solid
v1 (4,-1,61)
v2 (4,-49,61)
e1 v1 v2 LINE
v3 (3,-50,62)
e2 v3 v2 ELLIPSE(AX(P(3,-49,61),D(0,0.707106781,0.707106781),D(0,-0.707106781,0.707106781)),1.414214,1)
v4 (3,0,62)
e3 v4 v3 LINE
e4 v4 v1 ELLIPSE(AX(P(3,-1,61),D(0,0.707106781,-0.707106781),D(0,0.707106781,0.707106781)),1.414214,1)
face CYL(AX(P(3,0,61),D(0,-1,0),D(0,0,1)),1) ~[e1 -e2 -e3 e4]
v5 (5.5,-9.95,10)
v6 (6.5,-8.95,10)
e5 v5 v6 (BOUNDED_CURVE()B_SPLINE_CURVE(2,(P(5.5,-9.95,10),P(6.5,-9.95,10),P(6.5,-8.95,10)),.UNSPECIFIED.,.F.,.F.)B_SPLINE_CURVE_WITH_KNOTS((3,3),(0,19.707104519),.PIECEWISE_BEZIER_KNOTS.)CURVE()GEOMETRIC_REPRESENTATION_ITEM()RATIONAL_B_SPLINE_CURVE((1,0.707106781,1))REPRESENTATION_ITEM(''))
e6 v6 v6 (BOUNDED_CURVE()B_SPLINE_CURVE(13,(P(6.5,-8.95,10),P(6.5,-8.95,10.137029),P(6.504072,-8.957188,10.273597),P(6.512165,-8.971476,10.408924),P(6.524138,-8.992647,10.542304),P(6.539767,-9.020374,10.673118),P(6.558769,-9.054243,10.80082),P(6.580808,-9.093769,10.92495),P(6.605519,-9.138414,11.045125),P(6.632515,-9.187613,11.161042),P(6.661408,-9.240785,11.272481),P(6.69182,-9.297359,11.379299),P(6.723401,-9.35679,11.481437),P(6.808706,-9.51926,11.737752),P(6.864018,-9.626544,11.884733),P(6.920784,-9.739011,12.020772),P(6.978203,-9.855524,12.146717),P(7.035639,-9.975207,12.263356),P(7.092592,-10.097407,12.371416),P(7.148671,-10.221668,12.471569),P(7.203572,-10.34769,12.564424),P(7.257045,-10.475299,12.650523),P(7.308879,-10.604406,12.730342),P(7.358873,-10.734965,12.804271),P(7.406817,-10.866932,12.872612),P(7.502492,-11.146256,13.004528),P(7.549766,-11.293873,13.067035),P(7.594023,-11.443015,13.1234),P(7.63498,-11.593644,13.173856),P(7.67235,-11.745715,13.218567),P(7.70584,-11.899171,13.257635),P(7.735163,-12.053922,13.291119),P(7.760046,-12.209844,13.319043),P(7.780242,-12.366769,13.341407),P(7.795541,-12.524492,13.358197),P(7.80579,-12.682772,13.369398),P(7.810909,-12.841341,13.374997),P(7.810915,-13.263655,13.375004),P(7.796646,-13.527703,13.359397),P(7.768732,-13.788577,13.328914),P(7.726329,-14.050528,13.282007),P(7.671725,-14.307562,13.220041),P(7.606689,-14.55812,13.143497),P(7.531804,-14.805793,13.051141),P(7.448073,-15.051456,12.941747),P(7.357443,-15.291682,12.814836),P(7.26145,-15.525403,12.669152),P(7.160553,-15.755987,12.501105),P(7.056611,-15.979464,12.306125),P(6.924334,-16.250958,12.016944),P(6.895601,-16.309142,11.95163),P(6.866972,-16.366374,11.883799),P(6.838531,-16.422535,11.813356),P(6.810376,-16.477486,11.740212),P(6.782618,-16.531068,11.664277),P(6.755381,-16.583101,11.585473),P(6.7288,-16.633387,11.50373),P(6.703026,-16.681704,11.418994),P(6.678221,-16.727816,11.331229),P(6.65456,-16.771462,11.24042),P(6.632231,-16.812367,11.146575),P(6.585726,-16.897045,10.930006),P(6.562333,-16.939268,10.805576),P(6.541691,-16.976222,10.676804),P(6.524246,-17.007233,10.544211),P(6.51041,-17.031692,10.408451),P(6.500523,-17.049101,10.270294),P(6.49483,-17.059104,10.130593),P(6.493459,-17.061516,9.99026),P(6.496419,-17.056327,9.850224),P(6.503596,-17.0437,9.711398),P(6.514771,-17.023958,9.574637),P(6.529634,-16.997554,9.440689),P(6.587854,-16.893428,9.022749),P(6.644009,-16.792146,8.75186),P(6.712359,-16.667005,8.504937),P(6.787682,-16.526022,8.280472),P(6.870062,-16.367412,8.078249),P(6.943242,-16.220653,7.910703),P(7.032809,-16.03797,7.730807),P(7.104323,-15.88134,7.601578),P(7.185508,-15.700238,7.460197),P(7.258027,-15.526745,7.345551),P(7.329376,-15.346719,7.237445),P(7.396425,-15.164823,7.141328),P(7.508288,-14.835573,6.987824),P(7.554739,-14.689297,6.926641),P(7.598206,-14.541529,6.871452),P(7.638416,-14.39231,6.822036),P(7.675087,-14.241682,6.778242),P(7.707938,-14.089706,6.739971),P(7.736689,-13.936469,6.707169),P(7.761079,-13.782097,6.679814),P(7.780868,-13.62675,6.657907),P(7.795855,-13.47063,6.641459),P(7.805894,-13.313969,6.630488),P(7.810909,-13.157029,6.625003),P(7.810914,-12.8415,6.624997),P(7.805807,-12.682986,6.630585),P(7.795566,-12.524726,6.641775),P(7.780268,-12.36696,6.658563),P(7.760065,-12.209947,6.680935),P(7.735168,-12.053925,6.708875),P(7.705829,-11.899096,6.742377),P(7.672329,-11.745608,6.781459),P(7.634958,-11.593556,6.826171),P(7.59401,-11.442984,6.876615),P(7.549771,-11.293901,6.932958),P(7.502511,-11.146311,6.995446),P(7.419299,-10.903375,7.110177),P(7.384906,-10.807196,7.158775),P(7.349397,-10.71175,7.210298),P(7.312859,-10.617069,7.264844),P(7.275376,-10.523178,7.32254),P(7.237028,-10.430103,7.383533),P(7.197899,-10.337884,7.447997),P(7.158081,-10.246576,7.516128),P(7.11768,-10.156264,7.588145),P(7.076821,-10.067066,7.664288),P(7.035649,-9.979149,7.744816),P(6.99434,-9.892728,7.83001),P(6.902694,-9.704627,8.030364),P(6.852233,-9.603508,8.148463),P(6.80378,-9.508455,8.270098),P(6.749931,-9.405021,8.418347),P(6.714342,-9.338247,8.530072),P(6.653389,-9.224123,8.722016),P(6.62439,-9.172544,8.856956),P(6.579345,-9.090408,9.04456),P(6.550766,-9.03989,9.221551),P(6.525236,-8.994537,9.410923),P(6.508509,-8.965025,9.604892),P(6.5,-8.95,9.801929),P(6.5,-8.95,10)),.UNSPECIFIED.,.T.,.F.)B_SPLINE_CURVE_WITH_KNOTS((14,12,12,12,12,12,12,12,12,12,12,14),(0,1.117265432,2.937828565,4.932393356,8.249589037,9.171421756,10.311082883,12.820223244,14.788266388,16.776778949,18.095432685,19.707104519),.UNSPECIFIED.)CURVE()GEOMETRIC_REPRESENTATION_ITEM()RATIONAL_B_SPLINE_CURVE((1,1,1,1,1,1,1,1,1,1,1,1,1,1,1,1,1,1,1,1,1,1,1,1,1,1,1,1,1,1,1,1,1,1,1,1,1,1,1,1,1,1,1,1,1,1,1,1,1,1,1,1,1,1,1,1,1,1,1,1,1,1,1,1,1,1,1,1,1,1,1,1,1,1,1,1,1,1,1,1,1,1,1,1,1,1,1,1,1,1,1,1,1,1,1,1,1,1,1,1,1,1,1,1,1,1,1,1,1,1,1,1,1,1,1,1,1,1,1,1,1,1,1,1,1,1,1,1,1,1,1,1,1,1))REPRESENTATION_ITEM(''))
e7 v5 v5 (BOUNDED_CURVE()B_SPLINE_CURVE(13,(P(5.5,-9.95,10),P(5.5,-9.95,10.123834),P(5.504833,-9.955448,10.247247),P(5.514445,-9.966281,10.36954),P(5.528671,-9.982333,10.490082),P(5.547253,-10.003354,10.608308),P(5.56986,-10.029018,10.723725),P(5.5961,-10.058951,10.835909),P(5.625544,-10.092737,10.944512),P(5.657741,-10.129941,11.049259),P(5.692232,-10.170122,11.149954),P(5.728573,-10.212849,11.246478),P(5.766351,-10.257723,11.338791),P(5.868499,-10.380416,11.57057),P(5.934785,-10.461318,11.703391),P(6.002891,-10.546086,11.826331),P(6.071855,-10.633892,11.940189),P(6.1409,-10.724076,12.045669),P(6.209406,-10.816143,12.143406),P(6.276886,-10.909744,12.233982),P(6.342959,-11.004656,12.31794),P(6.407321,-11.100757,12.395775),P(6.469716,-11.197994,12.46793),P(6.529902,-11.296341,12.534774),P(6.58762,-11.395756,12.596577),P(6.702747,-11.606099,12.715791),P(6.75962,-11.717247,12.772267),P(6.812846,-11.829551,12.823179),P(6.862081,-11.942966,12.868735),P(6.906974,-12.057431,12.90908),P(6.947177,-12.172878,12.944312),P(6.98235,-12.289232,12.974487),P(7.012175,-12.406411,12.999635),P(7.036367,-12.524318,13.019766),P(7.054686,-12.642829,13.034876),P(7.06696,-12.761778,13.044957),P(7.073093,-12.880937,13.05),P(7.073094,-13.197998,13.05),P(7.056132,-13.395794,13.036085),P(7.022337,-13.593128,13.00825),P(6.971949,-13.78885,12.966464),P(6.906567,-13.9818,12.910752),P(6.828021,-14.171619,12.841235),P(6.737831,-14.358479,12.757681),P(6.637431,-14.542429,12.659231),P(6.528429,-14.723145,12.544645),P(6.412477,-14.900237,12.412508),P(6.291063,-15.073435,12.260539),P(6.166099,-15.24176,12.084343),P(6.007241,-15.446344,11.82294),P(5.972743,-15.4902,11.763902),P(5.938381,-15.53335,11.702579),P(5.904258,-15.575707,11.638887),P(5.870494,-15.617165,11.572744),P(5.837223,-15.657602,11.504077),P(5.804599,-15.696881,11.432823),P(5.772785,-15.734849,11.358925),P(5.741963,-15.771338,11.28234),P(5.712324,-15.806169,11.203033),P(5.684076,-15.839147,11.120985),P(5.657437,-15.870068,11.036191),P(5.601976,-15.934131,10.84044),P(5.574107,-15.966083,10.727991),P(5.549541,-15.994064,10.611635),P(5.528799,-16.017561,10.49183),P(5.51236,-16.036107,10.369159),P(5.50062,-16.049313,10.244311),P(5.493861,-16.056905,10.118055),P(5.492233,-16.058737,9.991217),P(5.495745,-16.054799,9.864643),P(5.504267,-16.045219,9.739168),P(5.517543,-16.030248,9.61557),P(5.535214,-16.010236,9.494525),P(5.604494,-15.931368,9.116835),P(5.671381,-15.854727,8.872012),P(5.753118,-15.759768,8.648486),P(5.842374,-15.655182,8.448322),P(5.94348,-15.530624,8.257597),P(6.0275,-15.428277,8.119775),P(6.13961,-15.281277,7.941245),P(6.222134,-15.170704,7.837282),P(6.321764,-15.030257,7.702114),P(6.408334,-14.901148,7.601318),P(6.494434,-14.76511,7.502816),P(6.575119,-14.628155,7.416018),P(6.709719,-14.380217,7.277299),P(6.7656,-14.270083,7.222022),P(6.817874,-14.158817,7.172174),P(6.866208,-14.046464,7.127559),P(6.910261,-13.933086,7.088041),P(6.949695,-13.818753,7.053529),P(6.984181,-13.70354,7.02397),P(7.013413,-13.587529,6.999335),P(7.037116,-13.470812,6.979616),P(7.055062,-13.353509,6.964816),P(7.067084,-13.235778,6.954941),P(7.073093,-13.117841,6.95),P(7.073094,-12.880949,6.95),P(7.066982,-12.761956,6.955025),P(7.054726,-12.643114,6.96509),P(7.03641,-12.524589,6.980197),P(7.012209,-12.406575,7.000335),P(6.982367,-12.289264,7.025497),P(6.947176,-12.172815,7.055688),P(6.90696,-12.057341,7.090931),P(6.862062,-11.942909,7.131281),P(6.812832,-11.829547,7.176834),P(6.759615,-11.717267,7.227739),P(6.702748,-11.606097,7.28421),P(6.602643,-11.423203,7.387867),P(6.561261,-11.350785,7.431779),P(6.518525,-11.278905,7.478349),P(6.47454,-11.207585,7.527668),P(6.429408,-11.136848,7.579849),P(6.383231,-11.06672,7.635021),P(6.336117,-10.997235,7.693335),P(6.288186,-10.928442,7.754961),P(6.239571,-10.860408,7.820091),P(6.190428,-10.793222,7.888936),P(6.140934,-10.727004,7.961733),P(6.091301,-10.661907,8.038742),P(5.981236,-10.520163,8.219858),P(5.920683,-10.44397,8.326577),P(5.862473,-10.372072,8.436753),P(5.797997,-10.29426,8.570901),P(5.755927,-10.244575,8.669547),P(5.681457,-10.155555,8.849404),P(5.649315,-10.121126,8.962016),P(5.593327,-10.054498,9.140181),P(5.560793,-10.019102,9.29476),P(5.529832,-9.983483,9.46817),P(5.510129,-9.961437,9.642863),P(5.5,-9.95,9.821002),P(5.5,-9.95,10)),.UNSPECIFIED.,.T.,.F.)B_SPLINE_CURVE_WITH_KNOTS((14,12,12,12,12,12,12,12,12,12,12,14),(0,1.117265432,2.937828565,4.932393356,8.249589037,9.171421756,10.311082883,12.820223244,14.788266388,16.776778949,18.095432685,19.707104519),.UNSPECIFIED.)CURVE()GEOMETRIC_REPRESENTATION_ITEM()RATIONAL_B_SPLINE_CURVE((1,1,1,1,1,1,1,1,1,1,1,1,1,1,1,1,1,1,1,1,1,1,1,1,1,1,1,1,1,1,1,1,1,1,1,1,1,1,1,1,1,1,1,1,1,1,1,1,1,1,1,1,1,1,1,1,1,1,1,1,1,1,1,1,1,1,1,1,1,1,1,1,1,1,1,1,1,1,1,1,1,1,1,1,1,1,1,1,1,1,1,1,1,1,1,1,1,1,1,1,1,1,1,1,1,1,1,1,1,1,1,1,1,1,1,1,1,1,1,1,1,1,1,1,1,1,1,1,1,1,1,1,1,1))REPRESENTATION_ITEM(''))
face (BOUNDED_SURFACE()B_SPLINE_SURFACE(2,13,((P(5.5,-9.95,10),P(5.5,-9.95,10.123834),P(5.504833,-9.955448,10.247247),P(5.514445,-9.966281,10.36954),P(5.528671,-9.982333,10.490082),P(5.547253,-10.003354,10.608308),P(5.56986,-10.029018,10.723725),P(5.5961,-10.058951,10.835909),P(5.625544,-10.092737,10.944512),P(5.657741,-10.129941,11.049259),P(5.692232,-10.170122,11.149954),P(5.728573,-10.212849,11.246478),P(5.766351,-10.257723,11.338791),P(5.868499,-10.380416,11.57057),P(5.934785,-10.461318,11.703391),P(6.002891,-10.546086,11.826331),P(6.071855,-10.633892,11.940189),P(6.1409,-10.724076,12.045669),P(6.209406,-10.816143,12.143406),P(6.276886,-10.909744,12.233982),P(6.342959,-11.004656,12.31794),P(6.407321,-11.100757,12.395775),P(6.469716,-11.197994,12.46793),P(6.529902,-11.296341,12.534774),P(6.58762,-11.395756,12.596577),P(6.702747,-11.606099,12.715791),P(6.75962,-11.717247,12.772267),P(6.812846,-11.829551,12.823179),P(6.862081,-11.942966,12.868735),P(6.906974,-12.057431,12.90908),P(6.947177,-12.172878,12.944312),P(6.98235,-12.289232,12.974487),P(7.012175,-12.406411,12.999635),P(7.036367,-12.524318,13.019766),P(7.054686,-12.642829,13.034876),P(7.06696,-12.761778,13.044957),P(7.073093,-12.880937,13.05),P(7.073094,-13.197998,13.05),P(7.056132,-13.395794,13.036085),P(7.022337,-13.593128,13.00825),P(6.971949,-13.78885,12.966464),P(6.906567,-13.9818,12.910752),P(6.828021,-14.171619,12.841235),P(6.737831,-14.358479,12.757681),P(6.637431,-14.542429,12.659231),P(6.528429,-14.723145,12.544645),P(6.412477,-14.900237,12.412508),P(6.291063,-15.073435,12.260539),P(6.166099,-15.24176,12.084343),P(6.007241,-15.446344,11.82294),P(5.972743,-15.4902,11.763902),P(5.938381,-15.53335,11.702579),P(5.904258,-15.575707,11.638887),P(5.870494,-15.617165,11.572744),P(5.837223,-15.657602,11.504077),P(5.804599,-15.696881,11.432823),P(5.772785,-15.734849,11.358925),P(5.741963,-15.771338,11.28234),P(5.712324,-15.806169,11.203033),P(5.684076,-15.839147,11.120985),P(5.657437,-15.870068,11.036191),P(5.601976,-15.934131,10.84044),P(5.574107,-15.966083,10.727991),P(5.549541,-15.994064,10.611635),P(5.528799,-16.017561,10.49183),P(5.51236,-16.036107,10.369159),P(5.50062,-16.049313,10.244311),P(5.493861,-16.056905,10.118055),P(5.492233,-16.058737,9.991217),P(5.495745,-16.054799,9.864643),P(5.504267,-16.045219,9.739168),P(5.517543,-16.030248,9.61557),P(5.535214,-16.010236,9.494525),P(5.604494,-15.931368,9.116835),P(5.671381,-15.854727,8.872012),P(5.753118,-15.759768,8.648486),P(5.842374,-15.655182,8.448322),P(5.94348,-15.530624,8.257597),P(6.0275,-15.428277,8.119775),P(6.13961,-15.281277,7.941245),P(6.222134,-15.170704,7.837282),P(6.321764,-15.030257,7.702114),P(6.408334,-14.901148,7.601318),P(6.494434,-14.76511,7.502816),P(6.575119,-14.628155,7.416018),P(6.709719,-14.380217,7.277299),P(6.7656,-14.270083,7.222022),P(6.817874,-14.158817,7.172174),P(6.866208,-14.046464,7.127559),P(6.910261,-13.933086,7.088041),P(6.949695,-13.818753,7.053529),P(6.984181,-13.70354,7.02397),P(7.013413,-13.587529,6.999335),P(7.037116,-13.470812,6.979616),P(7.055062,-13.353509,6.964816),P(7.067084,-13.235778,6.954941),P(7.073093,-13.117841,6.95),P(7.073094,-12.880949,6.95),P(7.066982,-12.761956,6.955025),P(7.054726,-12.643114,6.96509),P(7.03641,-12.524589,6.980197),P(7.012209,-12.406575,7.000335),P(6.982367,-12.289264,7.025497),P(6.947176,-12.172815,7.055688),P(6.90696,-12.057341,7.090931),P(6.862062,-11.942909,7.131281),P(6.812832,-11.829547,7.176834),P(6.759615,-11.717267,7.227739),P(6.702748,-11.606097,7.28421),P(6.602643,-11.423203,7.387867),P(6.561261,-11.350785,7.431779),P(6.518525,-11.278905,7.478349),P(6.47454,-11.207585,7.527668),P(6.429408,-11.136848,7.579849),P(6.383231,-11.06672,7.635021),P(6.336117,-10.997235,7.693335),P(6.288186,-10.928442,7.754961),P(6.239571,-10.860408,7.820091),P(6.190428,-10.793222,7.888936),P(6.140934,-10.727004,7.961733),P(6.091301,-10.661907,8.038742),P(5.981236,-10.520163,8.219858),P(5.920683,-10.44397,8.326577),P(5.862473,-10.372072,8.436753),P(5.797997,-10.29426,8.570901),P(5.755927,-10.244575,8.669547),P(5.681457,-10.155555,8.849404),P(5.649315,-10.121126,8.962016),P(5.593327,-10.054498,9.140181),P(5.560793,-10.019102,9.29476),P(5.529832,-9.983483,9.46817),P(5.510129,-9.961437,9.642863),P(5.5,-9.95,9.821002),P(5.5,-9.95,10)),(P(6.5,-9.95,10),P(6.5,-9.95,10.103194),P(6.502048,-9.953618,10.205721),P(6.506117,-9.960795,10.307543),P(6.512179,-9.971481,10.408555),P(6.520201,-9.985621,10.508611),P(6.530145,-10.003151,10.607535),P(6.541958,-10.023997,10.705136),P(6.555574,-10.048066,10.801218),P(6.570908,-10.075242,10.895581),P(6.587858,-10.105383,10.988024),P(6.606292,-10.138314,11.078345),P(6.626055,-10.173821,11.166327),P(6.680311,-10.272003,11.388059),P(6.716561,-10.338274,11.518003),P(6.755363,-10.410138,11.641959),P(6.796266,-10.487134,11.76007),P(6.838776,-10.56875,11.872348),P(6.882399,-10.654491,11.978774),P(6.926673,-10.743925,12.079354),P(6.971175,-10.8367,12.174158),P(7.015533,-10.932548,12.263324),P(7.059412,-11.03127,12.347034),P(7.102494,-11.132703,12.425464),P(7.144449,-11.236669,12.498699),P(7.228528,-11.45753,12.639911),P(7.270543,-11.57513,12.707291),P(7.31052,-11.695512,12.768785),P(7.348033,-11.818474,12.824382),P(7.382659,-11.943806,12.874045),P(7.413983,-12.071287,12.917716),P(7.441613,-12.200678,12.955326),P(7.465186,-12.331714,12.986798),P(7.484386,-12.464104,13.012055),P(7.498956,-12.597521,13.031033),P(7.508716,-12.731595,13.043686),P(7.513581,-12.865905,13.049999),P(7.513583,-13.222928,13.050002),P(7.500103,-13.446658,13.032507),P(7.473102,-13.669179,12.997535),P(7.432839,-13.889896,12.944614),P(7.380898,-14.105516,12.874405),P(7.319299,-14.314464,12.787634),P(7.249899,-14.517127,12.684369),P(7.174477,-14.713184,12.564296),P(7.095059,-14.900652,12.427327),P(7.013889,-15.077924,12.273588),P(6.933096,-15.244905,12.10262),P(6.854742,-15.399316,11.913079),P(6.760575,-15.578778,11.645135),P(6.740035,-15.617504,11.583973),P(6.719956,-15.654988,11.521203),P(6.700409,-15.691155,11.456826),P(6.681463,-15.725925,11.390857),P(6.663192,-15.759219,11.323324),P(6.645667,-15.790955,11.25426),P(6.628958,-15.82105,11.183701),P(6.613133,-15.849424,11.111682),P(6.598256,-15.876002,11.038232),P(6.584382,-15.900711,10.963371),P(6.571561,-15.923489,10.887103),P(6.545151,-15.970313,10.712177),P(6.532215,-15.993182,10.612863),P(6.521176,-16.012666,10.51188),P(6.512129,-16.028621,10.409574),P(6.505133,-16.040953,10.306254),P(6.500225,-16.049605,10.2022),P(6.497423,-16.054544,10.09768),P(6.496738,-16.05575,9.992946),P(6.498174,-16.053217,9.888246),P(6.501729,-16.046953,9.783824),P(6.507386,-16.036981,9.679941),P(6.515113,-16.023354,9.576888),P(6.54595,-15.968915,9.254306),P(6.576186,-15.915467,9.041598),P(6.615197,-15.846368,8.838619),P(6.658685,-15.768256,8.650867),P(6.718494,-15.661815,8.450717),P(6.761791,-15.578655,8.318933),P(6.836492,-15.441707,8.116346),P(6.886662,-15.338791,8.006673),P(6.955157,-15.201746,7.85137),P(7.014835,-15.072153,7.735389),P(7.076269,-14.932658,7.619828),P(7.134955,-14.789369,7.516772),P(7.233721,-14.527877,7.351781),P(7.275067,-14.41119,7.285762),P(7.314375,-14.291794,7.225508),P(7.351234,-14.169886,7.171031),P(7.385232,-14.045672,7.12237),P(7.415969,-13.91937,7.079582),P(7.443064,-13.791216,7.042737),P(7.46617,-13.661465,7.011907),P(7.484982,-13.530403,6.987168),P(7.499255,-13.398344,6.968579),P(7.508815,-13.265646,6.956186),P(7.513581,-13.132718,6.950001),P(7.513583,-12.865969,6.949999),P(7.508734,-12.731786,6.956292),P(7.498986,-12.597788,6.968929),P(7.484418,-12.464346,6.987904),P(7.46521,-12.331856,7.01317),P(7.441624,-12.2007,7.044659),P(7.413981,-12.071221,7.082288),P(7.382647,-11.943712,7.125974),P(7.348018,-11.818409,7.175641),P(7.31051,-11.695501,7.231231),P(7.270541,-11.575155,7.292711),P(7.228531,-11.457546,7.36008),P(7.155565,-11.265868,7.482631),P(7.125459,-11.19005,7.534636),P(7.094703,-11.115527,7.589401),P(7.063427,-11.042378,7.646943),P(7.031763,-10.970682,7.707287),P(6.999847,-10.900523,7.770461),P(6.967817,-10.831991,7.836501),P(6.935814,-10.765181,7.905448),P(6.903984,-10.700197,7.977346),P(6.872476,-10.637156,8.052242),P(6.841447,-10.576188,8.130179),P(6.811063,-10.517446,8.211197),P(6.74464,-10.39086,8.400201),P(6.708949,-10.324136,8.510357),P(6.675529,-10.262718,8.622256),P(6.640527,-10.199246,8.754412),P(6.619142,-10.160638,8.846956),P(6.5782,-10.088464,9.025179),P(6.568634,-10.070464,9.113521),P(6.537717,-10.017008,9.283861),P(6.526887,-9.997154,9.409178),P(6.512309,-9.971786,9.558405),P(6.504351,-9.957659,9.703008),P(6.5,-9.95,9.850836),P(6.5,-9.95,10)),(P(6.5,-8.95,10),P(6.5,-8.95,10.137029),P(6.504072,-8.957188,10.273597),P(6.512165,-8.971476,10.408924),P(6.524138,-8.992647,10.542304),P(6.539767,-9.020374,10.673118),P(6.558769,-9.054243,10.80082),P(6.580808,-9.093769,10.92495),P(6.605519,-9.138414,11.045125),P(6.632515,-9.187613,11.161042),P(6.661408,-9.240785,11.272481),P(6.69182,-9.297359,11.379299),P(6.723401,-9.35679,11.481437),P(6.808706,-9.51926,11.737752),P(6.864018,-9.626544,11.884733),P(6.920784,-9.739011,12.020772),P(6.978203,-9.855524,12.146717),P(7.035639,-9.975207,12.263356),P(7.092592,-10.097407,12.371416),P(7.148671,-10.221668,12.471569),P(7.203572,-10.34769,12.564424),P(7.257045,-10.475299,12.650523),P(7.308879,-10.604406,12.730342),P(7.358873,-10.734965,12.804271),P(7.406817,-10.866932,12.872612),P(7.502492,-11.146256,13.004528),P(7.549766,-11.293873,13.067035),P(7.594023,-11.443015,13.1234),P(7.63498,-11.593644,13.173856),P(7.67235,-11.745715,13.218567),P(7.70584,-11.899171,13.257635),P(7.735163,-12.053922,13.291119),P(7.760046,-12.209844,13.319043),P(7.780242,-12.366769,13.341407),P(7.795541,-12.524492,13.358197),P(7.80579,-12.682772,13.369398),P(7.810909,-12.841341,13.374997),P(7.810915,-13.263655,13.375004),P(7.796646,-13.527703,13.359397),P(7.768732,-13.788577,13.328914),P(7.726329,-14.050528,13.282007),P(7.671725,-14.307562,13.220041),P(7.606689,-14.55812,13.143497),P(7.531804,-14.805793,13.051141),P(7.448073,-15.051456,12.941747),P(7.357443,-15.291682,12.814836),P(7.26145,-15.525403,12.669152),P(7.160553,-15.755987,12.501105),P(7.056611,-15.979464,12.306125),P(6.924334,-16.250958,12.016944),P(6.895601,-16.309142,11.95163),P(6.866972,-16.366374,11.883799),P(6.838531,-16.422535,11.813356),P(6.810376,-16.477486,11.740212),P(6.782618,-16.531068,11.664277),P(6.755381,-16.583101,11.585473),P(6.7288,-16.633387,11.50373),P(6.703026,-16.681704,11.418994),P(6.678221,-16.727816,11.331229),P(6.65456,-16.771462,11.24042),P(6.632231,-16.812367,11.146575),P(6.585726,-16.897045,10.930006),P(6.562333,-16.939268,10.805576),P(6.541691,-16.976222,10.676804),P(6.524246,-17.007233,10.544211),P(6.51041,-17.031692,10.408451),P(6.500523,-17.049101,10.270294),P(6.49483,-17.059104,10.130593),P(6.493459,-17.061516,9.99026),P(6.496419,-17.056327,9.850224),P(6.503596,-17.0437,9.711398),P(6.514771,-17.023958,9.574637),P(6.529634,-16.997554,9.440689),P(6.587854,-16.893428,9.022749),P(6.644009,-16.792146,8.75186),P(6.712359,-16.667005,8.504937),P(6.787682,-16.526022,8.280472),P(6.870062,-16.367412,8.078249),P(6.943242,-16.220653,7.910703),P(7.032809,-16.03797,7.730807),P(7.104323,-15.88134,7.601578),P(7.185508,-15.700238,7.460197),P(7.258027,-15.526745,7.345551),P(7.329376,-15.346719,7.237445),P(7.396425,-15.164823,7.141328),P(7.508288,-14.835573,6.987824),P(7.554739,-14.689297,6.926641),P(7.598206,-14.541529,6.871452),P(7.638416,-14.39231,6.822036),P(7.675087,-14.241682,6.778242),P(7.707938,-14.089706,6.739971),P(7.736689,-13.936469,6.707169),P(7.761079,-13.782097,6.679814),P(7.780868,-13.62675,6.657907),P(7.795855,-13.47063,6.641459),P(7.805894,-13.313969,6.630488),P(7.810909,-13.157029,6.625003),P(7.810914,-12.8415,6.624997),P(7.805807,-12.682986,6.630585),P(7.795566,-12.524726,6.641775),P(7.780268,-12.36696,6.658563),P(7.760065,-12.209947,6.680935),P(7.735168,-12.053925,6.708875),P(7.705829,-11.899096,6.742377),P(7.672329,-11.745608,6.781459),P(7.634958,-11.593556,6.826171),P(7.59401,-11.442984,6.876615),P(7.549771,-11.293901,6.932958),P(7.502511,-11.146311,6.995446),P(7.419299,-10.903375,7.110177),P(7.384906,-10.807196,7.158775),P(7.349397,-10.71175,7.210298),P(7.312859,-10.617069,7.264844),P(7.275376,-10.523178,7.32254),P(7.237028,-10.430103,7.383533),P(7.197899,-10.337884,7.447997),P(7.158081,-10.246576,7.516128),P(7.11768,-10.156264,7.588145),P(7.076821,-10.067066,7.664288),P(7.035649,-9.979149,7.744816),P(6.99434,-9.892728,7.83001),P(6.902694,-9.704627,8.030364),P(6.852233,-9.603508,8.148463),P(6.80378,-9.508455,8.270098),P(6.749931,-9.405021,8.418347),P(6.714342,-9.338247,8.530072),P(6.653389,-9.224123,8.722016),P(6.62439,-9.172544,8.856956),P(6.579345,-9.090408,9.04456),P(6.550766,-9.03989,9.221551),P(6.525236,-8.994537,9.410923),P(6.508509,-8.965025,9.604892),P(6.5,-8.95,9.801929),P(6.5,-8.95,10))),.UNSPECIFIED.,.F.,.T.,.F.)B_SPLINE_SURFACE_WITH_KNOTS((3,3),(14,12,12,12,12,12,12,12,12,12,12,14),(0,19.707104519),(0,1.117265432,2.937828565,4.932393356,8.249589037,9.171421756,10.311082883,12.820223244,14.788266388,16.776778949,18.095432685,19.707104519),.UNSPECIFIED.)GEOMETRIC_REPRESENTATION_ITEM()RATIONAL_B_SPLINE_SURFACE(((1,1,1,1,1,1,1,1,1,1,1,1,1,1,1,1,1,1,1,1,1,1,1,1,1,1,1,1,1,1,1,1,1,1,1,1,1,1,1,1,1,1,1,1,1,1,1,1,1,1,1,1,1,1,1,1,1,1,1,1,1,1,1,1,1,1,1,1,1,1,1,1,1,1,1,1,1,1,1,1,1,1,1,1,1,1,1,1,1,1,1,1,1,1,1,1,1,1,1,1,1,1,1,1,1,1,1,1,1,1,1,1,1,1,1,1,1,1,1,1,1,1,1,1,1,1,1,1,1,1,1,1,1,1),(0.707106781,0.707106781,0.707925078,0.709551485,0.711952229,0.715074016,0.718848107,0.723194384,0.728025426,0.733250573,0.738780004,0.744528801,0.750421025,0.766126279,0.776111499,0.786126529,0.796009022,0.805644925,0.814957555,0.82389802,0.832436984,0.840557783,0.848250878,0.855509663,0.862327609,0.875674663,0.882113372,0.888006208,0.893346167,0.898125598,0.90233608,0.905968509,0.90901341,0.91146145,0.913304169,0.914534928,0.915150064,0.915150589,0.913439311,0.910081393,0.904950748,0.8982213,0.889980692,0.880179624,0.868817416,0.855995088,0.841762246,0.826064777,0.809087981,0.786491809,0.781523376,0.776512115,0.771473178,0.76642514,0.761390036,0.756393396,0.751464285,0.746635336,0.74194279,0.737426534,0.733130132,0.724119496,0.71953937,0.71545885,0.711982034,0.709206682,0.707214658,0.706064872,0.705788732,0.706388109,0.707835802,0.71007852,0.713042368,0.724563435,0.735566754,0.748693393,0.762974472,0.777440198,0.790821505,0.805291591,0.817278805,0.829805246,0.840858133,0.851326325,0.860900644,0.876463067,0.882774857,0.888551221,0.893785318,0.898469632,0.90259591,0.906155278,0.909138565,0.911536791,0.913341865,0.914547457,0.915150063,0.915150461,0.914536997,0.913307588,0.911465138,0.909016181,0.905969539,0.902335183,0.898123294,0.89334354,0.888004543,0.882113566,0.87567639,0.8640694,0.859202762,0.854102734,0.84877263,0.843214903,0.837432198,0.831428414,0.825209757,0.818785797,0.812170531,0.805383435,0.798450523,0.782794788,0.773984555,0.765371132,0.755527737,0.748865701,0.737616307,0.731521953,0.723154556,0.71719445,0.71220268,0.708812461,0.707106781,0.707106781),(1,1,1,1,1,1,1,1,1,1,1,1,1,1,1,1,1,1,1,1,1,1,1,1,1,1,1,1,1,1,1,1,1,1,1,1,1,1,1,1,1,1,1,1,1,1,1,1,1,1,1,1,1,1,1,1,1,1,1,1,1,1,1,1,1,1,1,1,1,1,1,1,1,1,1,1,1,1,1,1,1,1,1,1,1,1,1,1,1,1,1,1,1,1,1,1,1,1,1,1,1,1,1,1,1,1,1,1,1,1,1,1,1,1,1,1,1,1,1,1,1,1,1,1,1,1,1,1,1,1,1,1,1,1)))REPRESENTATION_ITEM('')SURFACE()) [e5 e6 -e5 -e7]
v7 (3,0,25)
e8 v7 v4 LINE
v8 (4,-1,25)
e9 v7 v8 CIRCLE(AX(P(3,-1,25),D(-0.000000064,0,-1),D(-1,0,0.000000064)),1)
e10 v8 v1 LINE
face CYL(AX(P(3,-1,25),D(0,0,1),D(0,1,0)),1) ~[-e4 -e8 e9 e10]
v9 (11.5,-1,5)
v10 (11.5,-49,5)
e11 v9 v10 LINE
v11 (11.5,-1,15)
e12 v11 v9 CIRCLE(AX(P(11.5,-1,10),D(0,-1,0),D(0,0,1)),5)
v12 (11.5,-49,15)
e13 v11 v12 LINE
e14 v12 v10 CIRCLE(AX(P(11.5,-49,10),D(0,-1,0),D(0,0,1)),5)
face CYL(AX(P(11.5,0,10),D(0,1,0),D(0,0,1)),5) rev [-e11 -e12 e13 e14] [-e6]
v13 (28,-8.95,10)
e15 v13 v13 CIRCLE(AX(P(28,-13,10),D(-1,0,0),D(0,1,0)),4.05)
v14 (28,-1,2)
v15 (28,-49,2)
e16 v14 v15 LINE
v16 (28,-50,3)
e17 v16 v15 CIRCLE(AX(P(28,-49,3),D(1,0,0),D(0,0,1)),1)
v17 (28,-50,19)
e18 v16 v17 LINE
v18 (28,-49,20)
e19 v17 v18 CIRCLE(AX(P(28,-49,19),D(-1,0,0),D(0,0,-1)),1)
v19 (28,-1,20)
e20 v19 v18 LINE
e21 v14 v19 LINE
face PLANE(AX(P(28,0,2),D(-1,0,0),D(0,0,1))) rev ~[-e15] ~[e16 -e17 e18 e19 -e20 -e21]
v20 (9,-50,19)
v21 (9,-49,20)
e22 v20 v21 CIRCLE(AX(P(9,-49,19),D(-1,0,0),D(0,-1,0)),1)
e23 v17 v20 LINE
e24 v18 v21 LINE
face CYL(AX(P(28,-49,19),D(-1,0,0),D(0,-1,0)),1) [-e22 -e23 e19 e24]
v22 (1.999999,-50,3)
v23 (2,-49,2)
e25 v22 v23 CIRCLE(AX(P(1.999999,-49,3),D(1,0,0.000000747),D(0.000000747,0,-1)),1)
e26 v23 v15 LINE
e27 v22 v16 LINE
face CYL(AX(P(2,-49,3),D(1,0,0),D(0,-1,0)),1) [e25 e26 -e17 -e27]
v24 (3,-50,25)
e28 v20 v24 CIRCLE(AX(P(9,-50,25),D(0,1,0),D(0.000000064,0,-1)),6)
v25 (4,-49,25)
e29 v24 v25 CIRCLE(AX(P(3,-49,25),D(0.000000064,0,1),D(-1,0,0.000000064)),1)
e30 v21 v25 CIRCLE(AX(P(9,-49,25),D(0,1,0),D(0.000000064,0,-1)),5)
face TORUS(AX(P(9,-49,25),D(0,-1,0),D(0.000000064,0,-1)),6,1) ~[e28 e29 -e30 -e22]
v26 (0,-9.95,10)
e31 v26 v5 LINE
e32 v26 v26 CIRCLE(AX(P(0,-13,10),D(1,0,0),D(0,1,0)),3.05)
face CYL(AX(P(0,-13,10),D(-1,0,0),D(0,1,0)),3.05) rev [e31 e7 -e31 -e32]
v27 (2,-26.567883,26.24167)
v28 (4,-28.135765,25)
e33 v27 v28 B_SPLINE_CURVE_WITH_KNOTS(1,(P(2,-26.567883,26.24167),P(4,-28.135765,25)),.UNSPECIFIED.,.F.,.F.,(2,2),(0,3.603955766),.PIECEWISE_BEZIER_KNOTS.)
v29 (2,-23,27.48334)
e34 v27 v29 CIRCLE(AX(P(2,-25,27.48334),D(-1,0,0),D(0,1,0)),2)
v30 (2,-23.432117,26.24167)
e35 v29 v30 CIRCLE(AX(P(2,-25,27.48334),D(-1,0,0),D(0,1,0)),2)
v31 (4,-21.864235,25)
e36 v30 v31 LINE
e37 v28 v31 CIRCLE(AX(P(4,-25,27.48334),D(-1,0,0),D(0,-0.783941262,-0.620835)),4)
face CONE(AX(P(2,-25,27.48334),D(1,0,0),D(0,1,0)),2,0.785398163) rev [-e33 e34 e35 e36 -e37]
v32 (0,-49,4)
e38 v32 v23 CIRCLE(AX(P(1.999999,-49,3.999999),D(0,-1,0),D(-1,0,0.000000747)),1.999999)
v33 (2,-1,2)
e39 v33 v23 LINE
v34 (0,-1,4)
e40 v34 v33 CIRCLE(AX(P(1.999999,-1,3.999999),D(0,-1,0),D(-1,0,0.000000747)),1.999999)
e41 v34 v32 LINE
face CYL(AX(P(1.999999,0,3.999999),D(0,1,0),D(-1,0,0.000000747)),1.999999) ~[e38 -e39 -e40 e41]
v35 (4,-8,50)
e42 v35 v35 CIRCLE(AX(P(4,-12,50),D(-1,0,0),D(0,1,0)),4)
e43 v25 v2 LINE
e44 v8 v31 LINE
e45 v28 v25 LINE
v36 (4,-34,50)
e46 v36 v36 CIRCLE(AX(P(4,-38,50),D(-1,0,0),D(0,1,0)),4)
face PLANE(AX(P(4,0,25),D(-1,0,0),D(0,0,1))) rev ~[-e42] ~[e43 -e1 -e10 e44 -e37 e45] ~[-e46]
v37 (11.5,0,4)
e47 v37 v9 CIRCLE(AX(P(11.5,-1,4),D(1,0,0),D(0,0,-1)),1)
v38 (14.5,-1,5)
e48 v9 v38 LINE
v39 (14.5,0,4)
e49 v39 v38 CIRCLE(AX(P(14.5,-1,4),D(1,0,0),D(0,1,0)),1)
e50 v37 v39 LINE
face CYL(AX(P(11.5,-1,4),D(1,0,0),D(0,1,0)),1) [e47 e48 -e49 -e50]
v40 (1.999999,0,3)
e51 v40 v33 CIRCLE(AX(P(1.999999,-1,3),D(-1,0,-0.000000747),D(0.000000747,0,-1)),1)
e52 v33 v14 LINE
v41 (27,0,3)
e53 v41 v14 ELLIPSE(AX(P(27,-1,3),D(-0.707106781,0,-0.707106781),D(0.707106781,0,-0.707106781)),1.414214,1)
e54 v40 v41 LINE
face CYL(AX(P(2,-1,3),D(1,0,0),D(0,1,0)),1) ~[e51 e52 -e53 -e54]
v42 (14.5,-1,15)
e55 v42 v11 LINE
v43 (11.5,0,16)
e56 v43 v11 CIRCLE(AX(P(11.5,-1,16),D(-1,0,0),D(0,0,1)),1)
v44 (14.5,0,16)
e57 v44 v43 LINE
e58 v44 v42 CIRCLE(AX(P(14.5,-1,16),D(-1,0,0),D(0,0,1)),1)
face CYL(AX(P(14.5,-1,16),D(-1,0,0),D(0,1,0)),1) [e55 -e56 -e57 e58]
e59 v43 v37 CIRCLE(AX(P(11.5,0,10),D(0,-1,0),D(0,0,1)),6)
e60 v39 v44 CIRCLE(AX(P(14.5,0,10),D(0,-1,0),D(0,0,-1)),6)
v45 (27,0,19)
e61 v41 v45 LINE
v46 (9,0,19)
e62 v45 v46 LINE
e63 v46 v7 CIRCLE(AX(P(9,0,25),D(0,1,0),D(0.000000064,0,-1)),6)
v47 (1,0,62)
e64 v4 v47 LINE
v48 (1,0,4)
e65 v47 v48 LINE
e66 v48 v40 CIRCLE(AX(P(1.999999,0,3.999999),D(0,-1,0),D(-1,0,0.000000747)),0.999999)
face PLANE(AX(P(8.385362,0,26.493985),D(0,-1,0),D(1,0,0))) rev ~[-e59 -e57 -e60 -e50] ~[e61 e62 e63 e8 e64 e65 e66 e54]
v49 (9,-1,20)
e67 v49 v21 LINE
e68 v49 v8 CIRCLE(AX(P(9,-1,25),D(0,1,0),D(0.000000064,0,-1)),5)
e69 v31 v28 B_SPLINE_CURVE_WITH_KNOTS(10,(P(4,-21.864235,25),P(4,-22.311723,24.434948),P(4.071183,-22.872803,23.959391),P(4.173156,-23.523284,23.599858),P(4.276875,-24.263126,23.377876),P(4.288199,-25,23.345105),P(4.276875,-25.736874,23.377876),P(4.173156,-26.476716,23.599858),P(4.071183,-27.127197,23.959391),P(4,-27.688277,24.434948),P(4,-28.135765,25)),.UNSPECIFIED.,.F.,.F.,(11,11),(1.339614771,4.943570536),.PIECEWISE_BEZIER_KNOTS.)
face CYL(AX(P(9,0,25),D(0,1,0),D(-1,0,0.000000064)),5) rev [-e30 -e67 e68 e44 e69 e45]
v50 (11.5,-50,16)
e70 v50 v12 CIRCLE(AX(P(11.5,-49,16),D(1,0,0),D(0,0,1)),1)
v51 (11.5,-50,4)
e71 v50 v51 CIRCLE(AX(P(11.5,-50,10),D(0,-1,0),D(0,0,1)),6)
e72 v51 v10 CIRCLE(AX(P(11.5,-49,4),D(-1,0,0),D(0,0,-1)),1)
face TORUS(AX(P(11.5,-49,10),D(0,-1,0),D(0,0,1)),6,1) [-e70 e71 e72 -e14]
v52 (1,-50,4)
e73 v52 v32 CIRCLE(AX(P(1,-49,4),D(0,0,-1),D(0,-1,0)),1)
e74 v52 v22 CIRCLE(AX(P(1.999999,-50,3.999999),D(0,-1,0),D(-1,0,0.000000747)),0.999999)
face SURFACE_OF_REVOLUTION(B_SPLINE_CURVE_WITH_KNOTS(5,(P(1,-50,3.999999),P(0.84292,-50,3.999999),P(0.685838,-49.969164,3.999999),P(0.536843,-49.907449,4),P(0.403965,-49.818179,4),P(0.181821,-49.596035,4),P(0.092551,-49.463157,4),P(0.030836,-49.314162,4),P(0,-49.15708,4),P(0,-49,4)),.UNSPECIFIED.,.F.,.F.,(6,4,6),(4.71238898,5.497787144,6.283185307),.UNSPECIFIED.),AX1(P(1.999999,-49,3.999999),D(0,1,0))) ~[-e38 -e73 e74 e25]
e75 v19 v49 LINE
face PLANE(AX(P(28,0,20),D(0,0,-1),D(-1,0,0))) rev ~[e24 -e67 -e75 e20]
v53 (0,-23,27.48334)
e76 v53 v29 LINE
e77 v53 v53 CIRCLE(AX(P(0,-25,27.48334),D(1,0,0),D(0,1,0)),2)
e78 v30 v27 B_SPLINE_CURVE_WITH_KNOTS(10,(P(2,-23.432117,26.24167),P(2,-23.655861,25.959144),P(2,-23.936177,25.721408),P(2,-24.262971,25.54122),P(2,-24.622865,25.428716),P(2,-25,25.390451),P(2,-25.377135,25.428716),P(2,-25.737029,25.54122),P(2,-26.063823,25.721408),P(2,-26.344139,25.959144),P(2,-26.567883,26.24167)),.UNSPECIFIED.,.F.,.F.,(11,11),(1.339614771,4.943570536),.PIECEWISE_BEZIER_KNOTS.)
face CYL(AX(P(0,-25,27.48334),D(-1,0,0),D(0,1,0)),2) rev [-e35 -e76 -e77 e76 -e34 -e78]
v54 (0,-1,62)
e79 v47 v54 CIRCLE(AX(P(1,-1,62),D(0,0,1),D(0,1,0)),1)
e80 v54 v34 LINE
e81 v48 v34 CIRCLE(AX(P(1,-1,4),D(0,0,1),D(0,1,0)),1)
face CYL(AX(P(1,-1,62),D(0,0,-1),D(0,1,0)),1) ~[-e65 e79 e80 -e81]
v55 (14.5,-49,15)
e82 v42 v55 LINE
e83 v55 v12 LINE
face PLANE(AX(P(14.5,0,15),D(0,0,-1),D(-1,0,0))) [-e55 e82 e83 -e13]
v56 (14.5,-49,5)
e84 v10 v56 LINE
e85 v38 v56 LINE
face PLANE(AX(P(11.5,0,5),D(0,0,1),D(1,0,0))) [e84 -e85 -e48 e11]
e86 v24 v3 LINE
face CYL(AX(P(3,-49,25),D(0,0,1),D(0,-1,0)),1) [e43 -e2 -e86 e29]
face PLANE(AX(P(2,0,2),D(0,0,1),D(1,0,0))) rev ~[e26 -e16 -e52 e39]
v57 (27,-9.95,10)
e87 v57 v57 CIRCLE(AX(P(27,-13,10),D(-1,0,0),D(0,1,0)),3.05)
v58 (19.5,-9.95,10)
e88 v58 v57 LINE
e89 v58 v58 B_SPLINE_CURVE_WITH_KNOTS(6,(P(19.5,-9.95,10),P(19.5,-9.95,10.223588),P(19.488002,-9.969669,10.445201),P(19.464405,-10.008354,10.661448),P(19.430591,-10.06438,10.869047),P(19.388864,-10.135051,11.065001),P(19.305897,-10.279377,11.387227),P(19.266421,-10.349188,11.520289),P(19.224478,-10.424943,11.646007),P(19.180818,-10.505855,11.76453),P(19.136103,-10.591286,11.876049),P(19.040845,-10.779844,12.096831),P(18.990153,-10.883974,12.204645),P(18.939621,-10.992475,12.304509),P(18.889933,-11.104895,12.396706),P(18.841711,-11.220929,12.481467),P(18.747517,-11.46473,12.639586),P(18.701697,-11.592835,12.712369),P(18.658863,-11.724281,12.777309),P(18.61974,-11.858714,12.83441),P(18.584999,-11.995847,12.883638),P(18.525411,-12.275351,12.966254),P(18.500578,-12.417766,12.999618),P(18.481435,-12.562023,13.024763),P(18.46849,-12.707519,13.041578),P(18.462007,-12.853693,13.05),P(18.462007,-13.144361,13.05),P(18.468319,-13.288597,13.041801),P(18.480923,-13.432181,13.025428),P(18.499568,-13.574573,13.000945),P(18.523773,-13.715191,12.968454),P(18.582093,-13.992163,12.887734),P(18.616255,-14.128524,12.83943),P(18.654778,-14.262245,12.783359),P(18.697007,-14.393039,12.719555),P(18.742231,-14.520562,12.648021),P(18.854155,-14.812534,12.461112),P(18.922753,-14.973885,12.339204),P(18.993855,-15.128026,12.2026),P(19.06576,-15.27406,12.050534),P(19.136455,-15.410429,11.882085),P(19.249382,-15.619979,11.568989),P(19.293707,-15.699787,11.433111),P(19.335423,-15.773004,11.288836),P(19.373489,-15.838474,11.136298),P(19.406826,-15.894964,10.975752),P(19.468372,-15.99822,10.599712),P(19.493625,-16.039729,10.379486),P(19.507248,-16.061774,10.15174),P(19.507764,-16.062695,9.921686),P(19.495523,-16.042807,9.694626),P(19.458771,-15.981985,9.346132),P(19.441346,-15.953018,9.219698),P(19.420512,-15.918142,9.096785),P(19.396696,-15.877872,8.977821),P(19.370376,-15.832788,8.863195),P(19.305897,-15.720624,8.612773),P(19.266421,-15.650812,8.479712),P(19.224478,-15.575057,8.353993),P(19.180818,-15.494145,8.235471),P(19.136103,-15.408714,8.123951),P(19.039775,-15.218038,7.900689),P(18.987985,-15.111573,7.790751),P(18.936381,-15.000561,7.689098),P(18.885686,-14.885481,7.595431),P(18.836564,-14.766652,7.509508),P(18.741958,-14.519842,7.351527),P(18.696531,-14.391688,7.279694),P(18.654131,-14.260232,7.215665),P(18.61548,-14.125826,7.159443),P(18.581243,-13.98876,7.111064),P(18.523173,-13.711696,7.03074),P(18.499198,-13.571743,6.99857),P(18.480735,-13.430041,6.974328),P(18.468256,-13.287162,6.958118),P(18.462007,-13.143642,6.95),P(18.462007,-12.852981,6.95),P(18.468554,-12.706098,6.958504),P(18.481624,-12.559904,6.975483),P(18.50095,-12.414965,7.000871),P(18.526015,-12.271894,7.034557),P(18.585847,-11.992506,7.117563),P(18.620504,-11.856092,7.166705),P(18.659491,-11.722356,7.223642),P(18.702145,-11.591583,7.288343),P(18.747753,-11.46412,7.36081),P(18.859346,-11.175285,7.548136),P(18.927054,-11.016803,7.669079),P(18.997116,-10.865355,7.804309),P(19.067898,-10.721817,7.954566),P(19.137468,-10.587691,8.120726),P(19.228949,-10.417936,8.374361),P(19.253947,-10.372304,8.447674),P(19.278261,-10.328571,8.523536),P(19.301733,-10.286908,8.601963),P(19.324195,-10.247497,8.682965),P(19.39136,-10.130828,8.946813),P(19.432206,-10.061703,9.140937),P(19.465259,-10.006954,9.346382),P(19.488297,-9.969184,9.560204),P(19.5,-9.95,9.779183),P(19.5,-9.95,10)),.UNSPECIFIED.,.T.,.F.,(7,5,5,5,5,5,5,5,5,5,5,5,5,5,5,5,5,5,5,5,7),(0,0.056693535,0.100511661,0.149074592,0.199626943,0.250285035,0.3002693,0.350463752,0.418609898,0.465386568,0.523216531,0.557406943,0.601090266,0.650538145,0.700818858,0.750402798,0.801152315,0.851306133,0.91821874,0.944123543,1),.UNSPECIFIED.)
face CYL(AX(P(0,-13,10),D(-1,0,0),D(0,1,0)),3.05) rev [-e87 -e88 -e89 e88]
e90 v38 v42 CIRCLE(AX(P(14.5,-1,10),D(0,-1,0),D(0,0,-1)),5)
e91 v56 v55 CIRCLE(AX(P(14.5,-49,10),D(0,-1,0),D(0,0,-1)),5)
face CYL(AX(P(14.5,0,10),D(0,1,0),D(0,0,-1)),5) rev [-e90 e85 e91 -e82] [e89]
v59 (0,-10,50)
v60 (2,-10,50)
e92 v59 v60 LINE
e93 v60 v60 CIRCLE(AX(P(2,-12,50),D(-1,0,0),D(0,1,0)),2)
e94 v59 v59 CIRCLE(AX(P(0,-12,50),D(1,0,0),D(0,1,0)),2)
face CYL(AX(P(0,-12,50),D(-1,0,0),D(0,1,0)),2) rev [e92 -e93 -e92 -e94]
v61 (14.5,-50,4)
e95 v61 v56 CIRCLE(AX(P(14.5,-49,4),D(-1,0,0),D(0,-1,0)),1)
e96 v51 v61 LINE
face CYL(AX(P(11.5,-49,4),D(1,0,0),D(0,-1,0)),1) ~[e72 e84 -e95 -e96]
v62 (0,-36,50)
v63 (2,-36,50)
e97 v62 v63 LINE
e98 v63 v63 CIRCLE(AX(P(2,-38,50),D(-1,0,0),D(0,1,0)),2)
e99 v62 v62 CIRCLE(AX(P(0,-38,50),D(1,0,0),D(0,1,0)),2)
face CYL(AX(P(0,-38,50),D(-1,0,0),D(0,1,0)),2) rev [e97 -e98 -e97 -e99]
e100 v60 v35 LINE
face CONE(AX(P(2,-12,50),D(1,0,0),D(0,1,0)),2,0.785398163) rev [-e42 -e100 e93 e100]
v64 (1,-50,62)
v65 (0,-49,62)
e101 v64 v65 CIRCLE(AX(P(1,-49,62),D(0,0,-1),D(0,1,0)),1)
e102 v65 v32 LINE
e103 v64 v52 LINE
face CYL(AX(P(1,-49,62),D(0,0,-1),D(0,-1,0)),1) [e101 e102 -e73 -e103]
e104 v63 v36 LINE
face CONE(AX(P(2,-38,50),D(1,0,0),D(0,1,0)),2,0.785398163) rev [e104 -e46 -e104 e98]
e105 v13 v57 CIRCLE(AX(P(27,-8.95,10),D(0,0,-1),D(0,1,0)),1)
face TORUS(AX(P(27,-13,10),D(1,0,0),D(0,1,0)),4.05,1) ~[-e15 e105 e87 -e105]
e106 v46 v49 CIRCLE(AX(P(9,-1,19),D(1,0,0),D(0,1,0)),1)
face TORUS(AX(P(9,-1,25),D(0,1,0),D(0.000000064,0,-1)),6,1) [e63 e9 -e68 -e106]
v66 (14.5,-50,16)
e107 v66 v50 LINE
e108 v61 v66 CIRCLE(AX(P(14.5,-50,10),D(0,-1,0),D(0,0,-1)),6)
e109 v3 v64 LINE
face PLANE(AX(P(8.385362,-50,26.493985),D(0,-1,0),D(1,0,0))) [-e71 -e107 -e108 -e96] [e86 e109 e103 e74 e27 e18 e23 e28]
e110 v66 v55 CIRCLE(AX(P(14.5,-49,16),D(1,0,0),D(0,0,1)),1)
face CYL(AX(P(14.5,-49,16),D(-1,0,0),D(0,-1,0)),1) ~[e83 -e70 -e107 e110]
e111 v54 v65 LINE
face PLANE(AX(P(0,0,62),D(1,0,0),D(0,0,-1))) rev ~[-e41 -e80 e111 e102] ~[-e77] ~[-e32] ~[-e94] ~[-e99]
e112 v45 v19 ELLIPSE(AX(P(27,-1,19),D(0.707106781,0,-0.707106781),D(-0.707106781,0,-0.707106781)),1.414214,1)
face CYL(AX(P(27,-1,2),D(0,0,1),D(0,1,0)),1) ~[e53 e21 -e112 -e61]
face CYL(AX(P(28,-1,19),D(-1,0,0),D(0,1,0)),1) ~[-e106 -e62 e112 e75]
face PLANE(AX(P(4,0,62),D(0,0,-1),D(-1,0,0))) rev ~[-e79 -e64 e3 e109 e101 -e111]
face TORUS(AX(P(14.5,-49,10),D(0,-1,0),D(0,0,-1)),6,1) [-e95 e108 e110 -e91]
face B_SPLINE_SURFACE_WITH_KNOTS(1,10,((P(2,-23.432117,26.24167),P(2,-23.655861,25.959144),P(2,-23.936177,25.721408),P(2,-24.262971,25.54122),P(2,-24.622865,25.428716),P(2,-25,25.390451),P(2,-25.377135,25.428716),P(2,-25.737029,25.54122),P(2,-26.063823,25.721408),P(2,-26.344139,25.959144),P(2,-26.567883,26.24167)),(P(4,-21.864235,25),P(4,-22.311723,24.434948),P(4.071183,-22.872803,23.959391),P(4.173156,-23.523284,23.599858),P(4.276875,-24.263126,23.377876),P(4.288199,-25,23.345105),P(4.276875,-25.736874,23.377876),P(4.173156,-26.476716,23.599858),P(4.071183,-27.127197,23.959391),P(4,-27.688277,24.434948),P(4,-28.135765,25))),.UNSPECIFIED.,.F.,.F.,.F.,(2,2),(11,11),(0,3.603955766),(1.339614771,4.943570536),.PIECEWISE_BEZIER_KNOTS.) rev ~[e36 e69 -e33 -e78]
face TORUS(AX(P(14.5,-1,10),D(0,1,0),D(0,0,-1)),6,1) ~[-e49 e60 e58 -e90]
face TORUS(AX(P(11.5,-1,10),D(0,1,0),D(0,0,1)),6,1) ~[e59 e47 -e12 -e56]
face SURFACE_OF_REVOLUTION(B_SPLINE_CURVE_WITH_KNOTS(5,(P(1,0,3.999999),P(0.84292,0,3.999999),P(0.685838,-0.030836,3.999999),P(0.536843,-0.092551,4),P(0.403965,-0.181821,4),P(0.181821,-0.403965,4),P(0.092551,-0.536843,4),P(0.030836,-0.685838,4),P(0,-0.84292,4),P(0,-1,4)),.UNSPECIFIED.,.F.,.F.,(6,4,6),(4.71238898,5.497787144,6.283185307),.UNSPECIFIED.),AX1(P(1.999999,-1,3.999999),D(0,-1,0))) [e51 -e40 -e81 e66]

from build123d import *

# Parameters (mm, degrees)
PAD002_DEPTH    = 50
SKETCH022_R     = 3.05
SKETCH022_R_2   = 2
POCKET006_DEPTH = 35
FILLET004_R     = 1
CHAMFER005_SIZE = 2


with BuildPart() as part:
    # Sketch021 → Pad002 (new body)
    with BuildSketch(Plane.XZ):
        with BuildLine():
            Line((0, 62), (0, 4))
            ThreePointArc((0, 4), (0.585786, 2.585786), (2, 2))
            Line((2, 2), (28, 2))
            Line((28, 2), (28, 20))
            Line((28, 20), (9, 20))
            ThreePointArc((4, 25), (5.464466, 21.464466), (9, 20))
            Line((4, 25), (4, 62))
            Line((4, 62), (0, 62))
        make_face()
        with BuildLine():
            ThreePointArc((11.5, 15), (6.5, 10), (11.5, 5))
            Line((11.5, 5), (14.5, 5))
            ThreePointArc((14.5, 5), (19.5, 10), (14.5, 15))
            Line((14.5, 15), (11.5, 15))
        make_face(mode=Mode.SUBTRACT)
    extrude(amount=PAD002_DEPTH)

    # Sketch022 → Pocket006 (cut)
    with BuildSketch(Plane.YZ):
        with Locations((-13, 10)):
            Circle(SKETCH022_R)
        with Locations((-38, 50)):
            Circle(SKETCH022_R_2)
        with Locations((-12, 50)):
            Circle(SKETCH022_R_2)
        with Locations((-25, 27.48334)):
            Circle(SKETCH022_R_2)
    extrude(amount=POCKET006_DEPTH, mode=Mode.SUBTRACT)

    # Fillet004
    fillet004_edges = [part.edges().sort_by_distance(p)[0] for p in [
        (4, 0, 43.5),
        (4, -25, 62),
        (4, -50, 43.5),
        (15, 0, 2),
        (18.5, 0, 20),
        (28, 0, 11),
        (18.5, -50, 20),
        (5.464466, -50, 21.464466),
        (5.464466, 0, 21.464466),
        (15, -50, 2),
        (0.585786, -50, 2.585786),
        (0.585786, 0, 2.585786),
        (6.5, 0, 10),
        (19.5, 0, 10),
        (13, 0, 5),
        (13, 0, 15),
        (28, -16.05, 10),
        (6.5, -16.05, 10),
        (6.5, -50, 10),
        (19.5, -50, 10),
        (13, -50, 15),
        (13, -50, 5),
    ]]
    fillet(fillet004_edges, radius=FILLET004_R)

    # Chamfer005
    chamfer005_edges = [part.edges().sort_by_distance(p)[0] for p in [
        (4, -27, 27.48334),
        (4, -40, 50),
        (4, -14, 50),
    ]]
    chamfer(chamfer005_edges, length=CHAMFER005_SIZE)


solid = part.part
